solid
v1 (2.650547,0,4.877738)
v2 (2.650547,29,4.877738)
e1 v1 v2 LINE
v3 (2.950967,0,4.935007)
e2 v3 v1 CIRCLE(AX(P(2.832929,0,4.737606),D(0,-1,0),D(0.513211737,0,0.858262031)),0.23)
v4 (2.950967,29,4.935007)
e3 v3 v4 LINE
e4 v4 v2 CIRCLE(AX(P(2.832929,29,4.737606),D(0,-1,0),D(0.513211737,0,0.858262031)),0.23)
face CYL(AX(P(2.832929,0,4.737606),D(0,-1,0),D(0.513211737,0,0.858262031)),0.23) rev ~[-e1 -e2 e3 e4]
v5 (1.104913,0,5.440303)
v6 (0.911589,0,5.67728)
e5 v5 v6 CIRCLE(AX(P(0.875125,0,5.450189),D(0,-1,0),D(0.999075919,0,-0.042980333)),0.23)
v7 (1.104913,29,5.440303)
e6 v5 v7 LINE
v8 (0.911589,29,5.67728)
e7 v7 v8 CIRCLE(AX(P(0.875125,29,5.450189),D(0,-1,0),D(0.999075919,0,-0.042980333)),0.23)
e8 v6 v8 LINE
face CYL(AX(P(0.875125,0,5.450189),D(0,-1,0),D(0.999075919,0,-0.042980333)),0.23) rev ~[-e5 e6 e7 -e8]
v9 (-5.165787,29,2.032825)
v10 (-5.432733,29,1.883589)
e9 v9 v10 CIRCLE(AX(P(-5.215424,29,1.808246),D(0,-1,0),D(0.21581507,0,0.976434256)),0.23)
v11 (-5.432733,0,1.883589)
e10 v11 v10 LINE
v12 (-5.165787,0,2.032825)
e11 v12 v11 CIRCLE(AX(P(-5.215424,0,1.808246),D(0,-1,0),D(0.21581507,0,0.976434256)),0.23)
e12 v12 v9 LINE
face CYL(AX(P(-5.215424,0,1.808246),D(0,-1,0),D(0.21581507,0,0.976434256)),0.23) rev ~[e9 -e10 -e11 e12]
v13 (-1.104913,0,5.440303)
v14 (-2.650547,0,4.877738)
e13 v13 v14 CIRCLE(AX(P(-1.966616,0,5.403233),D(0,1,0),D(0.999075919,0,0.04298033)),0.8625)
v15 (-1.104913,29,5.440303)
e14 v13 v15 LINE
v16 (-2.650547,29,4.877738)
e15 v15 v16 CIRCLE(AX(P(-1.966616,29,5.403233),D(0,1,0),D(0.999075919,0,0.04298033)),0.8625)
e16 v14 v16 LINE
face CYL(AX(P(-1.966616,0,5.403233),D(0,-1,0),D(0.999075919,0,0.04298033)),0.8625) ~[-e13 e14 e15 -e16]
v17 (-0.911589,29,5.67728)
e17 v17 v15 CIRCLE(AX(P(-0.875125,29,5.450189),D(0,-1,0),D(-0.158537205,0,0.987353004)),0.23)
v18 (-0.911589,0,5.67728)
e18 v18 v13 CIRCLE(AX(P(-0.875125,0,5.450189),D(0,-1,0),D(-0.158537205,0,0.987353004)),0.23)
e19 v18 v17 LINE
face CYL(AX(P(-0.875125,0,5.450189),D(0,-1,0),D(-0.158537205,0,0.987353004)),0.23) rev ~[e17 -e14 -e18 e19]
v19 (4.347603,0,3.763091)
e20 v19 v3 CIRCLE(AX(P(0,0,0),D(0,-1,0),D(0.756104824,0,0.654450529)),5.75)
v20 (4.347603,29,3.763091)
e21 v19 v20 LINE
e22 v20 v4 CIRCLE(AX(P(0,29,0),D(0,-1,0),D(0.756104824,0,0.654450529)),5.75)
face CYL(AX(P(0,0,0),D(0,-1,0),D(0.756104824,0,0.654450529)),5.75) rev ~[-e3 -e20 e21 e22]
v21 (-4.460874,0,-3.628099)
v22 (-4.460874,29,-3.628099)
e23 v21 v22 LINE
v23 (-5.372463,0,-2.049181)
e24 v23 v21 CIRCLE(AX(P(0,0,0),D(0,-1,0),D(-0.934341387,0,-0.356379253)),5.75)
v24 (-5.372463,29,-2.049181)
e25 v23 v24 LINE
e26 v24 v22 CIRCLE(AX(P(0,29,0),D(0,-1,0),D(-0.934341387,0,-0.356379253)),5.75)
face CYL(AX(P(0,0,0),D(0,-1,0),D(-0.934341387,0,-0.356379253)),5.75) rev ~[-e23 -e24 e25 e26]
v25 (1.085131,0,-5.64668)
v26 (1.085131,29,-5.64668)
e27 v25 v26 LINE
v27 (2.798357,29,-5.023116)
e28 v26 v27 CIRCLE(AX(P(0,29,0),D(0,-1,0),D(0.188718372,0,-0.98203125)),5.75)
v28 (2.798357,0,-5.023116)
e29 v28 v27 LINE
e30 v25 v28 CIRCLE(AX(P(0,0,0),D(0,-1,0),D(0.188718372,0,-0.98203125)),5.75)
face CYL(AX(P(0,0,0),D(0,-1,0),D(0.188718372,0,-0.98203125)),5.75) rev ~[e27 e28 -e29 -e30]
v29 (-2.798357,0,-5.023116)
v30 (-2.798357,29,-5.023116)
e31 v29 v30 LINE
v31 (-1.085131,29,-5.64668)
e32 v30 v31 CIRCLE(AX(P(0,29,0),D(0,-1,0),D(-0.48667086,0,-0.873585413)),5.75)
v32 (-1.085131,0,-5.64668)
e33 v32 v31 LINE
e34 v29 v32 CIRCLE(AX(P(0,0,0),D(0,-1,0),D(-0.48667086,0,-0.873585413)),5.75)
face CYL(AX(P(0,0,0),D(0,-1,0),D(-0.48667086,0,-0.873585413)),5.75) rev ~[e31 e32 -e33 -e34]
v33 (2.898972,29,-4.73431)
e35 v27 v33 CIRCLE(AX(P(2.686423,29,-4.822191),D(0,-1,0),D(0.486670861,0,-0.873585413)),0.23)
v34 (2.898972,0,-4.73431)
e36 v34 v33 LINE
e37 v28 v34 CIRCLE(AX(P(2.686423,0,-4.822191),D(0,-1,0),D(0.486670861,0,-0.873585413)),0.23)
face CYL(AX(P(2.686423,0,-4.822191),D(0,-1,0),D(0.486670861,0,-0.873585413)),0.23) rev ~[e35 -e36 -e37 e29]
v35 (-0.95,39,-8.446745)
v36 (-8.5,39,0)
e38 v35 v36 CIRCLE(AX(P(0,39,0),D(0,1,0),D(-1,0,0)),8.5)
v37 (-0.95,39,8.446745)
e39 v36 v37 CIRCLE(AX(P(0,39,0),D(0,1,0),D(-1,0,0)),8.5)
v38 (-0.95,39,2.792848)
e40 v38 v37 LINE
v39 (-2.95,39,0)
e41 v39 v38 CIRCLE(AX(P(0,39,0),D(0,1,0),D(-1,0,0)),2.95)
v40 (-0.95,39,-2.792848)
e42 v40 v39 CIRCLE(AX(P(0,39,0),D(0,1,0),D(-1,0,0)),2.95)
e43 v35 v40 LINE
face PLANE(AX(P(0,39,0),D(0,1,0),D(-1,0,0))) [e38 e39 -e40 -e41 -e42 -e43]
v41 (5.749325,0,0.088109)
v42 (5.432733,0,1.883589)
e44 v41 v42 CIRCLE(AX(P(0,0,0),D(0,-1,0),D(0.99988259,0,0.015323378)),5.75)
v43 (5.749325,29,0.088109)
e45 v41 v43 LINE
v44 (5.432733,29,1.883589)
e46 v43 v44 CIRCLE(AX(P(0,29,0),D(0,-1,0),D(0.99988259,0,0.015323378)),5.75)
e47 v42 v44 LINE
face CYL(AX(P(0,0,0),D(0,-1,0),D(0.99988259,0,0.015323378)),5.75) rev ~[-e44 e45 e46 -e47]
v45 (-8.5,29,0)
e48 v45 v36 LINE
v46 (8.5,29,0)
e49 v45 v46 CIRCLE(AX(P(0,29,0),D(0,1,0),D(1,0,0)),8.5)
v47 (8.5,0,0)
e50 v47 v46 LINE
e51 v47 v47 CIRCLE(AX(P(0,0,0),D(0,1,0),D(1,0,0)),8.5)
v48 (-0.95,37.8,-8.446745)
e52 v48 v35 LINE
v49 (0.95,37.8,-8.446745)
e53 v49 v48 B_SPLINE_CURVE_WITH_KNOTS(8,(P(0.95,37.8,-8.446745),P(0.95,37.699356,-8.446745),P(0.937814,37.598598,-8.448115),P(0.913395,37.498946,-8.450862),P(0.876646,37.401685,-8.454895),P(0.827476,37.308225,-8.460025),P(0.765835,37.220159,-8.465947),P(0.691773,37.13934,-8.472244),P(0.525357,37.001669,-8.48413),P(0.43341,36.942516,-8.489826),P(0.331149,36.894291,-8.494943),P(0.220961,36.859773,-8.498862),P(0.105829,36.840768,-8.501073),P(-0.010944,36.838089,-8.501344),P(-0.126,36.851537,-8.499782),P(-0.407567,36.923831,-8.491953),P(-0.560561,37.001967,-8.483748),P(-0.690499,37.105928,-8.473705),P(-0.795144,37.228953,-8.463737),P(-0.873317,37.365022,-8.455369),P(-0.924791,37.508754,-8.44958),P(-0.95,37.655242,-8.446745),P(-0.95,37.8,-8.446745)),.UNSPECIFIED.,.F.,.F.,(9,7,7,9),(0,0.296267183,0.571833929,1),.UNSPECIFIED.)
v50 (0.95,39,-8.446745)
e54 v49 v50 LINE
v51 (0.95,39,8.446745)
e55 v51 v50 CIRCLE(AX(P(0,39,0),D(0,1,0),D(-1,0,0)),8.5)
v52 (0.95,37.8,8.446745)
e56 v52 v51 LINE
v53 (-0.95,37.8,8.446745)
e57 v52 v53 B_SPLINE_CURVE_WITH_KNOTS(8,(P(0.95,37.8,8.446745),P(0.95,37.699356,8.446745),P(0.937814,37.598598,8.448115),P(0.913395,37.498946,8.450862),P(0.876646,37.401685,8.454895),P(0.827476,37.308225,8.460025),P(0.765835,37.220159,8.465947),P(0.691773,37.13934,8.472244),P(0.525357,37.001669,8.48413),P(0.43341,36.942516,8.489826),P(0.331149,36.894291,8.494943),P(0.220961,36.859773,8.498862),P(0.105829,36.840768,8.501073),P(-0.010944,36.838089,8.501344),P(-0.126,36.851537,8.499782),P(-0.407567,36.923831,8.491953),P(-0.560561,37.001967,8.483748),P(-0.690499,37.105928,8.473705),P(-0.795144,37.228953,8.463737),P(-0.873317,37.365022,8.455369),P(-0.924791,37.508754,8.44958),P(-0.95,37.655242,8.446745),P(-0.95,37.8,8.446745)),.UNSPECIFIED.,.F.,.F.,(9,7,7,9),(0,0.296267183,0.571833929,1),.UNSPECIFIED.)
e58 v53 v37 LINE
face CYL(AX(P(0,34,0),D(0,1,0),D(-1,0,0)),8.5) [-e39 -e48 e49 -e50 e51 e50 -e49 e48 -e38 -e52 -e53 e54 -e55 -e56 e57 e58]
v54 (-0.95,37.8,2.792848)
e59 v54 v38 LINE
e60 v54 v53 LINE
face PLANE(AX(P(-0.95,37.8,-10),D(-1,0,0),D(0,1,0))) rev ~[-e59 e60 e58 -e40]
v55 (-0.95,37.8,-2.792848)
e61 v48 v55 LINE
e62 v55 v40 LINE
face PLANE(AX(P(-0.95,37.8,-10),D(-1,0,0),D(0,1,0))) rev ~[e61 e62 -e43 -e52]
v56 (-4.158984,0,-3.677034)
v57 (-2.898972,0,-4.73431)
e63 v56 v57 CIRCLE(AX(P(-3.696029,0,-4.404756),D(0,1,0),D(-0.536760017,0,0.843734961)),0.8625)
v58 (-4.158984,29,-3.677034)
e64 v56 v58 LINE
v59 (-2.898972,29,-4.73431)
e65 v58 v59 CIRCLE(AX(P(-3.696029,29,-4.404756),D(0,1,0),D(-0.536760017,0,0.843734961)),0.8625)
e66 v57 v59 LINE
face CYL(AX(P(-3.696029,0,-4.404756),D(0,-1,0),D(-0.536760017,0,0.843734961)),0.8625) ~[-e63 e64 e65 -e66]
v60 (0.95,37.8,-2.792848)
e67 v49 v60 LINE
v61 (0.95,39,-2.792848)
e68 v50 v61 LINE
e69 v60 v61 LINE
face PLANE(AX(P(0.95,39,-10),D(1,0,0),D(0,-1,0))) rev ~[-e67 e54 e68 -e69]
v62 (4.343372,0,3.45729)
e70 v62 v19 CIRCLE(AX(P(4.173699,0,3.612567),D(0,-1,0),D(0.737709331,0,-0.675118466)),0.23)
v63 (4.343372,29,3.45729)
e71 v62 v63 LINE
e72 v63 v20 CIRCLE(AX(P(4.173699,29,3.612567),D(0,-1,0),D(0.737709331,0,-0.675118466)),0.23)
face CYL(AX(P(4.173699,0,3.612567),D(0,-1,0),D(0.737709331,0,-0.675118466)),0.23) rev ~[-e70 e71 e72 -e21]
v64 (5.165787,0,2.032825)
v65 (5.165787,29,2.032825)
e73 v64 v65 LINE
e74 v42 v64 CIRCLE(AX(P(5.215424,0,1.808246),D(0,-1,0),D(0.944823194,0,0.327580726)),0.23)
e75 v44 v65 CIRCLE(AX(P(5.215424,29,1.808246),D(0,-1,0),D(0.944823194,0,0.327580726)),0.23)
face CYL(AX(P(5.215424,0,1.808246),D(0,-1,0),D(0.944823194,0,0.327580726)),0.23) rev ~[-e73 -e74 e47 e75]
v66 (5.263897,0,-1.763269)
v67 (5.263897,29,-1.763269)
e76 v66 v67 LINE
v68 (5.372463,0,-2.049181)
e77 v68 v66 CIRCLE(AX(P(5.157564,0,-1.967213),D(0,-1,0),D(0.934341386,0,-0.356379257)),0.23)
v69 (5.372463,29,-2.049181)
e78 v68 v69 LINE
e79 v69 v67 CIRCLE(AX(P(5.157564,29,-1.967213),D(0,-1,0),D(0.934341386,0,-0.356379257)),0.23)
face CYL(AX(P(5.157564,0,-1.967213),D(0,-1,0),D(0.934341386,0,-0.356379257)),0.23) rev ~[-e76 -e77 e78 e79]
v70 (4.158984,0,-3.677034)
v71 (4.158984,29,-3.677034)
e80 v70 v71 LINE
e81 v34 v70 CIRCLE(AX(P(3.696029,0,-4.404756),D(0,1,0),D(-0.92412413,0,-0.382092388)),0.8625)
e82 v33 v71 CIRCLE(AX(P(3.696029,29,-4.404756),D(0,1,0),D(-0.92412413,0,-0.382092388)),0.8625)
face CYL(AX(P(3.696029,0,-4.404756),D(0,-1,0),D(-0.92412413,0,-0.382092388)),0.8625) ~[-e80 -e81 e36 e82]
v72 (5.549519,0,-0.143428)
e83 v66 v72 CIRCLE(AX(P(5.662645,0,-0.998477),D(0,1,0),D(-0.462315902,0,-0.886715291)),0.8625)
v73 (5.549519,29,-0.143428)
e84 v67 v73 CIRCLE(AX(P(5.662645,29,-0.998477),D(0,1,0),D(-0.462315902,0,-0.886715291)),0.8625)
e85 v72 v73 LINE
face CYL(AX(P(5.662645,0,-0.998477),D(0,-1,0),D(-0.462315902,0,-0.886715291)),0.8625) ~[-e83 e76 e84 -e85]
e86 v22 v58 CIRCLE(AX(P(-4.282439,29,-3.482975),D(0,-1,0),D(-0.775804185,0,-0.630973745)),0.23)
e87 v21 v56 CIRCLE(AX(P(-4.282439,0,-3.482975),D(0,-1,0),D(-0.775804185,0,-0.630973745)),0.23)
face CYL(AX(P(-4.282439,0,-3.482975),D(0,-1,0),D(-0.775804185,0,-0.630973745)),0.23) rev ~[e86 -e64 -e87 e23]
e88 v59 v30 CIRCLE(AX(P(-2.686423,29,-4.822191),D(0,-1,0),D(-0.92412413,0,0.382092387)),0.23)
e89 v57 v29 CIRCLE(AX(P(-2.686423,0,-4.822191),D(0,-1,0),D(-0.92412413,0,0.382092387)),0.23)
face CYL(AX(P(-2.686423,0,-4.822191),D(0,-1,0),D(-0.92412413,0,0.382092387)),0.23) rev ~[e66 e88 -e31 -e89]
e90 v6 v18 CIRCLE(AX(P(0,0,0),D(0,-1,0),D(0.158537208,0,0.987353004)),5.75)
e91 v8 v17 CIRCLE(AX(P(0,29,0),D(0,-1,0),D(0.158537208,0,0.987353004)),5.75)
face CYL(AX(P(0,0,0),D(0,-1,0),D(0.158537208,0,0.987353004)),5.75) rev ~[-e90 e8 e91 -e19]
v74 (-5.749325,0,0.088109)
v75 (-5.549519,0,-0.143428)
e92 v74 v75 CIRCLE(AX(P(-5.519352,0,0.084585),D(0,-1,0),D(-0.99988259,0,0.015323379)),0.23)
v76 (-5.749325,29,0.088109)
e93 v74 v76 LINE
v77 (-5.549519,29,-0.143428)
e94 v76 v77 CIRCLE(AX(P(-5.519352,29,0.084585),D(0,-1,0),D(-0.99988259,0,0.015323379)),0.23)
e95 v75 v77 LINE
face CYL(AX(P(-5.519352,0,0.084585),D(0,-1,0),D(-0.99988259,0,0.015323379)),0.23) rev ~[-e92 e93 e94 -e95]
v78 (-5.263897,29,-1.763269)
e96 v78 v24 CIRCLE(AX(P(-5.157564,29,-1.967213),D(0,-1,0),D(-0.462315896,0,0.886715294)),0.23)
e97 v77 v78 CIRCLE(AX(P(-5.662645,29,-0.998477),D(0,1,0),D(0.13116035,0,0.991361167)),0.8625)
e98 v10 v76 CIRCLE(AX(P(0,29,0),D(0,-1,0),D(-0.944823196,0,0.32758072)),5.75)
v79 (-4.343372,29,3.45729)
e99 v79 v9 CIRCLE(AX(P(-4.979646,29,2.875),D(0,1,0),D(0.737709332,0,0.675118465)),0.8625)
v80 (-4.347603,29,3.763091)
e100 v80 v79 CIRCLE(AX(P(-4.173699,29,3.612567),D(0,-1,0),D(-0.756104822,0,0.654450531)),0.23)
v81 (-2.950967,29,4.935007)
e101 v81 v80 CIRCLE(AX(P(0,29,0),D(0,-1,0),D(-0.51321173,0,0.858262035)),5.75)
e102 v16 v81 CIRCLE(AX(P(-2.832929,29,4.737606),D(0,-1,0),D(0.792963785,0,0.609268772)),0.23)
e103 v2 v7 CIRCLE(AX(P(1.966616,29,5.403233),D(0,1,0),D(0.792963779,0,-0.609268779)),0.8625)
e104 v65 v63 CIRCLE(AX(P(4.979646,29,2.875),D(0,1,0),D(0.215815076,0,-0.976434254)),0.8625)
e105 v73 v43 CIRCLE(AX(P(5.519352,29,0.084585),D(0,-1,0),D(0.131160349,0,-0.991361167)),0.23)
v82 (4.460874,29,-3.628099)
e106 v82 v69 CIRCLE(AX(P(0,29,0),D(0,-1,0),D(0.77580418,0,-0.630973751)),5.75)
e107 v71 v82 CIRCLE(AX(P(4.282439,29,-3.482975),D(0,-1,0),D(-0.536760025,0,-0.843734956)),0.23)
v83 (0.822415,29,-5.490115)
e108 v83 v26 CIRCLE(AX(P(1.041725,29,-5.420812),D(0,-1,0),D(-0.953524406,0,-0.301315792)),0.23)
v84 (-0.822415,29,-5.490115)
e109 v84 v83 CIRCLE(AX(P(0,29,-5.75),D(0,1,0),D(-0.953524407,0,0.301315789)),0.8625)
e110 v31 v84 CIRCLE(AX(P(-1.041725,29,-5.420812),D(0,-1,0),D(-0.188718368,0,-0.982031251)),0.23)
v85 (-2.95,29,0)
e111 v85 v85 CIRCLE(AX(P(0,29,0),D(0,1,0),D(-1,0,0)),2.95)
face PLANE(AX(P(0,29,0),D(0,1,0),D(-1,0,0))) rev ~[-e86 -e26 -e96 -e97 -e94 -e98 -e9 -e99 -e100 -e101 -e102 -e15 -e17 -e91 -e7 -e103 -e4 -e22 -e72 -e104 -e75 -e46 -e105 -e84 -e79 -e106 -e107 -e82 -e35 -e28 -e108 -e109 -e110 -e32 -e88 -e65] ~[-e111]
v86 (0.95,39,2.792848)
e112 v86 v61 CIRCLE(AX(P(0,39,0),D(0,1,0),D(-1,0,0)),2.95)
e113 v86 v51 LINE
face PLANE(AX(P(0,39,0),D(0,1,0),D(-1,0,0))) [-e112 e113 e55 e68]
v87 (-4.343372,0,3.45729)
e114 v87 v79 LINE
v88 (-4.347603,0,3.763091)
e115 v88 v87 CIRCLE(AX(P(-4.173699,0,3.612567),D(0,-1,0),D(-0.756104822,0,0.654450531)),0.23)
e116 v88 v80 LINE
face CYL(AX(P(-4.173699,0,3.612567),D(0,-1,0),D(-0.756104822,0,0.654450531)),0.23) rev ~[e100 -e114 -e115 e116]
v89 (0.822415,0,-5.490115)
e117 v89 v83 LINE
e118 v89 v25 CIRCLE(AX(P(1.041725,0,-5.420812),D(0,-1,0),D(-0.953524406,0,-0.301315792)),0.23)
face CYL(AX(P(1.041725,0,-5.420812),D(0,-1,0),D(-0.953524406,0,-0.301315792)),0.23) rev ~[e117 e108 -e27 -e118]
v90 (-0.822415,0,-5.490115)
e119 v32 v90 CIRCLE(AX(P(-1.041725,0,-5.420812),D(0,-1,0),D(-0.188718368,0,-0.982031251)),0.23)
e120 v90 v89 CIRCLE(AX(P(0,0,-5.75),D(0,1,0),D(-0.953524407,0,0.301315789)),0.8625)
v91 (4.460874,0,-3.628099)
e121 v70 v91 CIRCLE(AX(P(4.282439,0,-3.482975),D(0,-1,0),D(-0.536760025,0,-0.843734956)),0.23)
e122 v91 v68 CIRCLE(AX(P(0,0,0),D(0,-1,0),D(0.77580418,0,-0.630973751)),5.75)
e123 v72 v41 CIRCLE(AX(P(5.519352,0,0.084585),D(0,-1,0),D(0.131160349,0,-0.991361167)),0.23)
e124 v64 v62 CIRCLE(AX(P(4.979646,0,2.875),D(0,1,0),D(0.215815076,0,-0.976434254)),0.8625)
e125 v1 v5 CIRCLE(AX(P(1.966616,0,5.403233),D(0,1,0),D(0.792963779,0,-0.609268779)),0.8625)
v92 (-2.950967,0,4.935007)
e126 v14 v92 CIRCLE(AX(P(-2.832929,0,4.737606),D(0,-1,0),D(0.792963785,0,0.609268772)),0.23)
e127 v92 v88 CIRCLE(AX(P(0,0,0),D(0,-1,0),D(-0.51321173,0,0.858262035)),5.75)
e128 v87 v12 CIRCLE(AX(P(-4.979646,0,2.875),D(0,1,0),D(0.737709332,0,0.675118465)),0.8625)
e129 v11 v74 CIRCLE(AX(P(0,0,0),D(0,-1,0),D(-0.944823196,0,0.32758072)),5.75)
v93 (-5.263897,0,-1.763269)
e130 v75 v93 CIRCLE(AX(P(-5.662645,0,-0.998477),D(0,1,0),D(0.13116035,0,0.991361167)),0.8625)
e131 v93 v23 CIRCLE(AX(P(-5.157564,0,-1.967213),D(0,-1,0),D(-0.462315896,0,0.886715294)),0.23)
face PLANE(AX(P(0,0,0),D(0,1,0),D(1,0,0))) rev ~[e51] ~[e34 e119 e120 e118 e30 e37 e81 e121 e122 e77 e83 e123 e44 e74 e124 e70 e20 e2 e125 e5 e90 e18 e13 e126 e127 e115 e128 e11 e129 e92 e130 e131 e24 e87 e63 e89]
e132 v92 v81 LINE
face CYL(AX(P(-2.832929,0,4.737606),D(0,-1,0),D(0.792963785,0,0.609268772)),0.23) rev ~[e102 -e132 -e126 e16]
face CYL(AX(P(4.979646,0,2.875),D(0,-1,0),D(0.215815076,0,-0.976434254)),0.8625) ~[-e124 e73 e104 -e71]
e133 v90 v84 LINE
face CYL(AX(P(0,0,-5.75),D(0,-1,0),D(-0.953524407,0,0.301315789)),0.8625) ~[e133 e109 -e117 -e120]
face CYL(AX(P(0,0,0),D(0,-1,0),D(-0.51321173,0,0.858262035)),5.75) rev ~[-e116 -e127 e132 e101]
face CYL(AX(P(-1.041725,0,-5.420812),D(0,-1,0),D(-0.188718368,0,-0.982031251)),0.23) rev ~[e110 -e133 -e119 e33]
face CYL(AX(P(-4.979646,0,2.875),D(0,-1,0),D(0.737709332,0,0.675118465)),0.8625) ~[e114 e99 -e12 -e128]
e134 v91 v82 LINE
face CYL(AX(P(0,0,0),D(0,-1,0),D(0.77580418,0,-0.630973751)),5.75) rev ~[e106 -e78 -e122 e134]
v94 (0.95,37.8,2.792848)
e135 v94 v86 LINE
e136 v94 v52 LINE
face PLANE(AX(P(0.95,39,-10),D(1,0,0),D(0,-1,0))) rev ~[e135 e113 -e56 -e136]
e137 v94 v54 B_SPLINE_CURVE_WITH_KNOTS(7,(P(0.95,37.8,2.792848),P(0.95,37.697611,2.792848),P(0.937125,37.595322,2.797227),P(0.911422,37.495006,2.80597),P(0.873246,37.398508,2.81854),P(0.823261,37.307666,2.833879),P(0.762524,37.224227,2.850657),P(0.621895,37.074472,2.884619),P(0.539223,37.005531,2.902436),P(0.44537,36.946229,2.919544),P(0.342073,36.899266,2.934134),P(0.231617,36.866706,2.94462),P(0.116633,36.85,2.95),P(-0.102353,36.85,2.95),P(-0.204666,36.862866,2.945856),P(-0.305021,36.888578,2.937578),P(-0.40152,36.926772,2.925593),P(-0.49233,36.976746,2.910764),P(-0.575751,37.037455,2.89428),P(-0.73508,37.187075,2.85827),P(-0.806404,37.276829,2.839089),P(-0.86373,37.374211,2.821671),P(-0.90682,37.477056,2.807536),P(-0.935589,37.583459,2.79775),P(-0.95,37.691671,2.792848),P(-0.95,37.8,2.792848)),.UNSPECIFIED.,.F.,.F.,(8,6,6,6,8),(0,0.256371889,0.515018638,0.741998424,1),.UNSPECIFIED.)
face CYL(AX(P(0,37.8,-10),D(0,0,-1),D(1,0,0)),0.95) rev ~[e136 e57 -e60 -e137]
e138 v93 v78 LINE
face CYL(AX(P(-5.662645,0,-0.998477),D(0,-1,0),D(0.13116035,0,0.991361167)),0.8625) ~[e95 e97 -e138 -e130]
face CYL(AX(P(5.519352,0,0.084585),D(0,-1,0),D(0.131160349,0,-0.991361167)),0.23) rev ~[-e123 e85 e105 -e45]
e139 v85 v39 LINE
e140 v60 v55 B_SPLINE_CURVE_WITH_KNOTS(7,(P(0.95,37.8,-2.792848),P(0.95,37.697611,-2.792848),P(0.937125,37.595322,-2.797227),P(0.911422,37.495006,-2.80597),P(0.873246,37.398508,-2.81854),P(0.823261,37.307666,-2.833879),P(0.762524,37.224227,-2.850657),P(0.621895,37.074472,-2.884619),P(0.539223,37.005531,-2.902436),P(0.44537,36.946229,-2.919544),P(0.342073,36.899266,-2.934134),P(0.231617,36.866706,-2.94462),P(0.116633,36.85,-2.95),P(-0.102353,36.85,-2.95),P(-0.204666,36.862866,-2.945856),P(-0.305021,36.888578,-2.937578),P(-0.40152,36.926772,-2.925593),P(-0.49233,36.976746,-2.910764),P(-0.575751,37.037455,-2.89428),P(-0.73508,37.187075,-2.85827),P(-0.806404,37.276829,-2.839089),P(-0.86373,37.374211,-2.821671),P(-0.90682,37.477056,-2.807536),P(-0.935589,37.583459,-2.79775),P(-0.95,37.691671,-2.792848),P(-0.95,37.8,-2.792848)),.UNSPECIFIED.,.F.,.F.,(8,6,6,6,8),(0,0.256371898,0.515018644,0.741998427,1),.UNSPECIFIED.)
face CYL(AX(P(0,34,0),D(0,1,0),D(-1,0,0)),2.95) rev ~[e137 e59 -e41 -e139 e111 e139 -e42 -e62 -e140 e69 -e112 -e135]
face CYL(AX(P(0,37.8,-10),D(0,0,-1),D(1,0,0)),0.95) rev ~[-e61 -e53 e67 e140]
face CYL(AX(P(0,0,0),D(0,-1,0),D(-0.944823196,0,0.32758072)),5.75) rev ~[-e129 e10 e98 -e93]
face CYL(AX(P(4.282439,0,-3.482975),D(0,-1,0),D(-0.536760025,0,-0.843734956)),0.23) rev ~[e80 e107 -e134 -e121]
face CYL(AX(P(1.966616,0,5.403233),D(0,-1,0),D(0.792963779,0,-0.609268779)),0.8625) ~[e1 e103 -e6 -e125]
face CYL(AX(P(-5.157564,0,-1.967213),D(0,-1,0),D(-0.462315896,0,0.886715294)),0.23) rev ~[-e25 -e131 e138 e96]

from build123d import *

# Parameters (mm, degrees)
SKETCH1_R               = 8.5
BOSS_EXTRUDE1_DEPTH     = 29
SKETCH2_W               = 5.55
SKETCH2_H               = 10
CUT_EXTRUDE1_DEPTH      = 10
CUT_EXTRUDE1_DEPTH_BACK = 10


with BuildPart() as part:
    # Sketch1 → Boss-Extrude1 (new body)
    with BuildSketch(Plane(origin=(0, 0, 0), x_dir=(1, 0, 0), z_dir=(0, 1, 0))):
        Circle(SKETCH1_R)
        with BuildLine():
            ThreePointArc((5.263897115, 1.76326896), (4.813247893, 0.848705468), (5.549518778, 0.143428015))
            ThreePointArc((5.549518778, 0.143428015), (5.693479971, 0.065679427), (5.749324893, -0.08810943))
            ThreePointArc((5.749324893, -0.08810943), (5.66264458, -0.998477022), (5.432733377, -1.883589143))
            ThreePointArc((5.432733377, -1.883589143), (5.327657428, -2.009003309), (5.165786574, -2.032825456))
            ThreePointArc((5.165786574, -2.032825456), (4.232699161, -2.44375), (4.343371773, -3.457289676))
            ThreePointArc((4.343371773, -3.457289676), (4.403676616, -3.609385021), (4.347602736, -3.763090545))
            ThreePointArc((4.347602736, -3.763090545), (3.696028756, -4.404755548), (2.950967451, -4.935006697))
            ThreePointArc((2.950967451, -4.935006697), (2.789859933, -4.963538005), (2.650547084, -4.877738248))
            ThreePointArc((2.650547084, -4.877738248), (1.671623451, -4.592747684), (1.104912844, -5.440303105))
            ThreePointArc((1.104912844, -5.440303105), (1.053344031, -5.595578104), (0.911588941, -5.677279771))
            ThreePointArc((0.911588941, -5.677279771), (0, -5.75), (-0.911588941, -5.677279771))
            ThreePointArc((-0.911588941, -5.677279771), (-1.053344031, -5.595578104), (-1.104912844, -5.440303105))
            ThreePointArc((-1.104912844, -5.440303105), (-1.671623451, -4.592747684), (-2.650547084, -4.877738248))
            ThreePointArc((-2.650547084, -4.877738248), (-2.789859933, -4.963538005), (-2.950967451, -4.935006697))
            ThreePointArc((-2.950967451, -4.935006697), (-3.696028756, -4.404755548), (-4.347602736, -3.763090545))
            ThreePointArc((-4.347602736, -3.763090545), (-4.403676616, -3.609385021), (-4.343371773, -3.457289676))
            ThreePointArc((-4.343371773, -3.457289676), (-4.232699161, -2.44375), (-5.165786574, -2.032825456))
            ThreePointArc((-5.165786574, -2.032825456), (-5.327657428, -2.009003309), (-5.432733377, -1.883589143))
            ThreePointArc((-5.432733377, -1.883589143), (-5.66264458, -0.998477022), (-5.749324893, -0.08810943))
            ThreePointArc((-5.749324893, -0.08810943), (-5.693479971, 0.065679427), (-5.549518778, 0.143428015))
            ThreePointArc((-5.549518778, 0.143428015), (-4.813247893, 0.848705468), (-5.263897115, 1.76326896))
            ThreePointArc((-5.263897115, 1.76326896), (-5.372584803, 1.885566362), (-5.372462977, 2.049180705))
            ThreePointArc((-5.372462977, 2.049180705), (-4.979646072, 2.875), (-4.460874036, 3.628099066))
            ThreePointArc((-4.460874036, 3.628099066), (-4.319240772, 3.710011742), (-4.158984271, 3.677034144))
            ThreePointArc((-4.158984271, 3.677034144), (-3.141624442, 3.744042216), (-2.898971694, 4.734310233))
            ThreePointArc((-2.898971694, 4.734310233), (-2.903620038, 4.897858577), (-2.798357442, 5.023116127))
            ThreePointArc((-2.798357442, 5.023116127), (-1.966615824, 5.40323257), (-1.08513064, 5.646679688))
            ThreePointArc((-1.08513064, 5.646679688), (-0.923980812, 5.61838833), (-0.822414801, 5.490115132))
            ThreePointArc((-0.822414801, 5.490115132), (0, 4.8875), (0.822414801, 5.490115132))
            ThreePointArc((0.822414801, 5.490115132), (0.923980812, 5.61838833), (1.08513064, 5.646679688))
            ThreePointArc((1.08513064, 5.646679688), (1.966615824, 5.40323257), (2.798357442, 5.023116127))
            ThreePointArc((2.798357442, 5.023116127), (2.903620038, 4.897858577), (2.898971694, 4.734310233))
            ThreePointArc((2.898971694, 4.734310233), (3.141624442, 3.744042216), (4.158984271, 3.677034144))
            ThreePointArc((4.158984271, 3.677034144), (4.319240772, 3.710011742), (4.460874036, 3.628099066))
            ThreePointArc((4.460874036, 3.628099066), (4.979646072, 2.875), (5.372462977, 2.049180705))
            ThreePointArc((5.372462977, 2.049180705), (5.372584803, 1.885566362), (5.263897115, 1.76326896))
        make_face(mode=Mode.SUBTRACT)
    extrude(amount=BOSS_EXTRUDE1_DEPTH)

    # Sketch2 → Revolve2 (revolve)
    with BuildSketch(Plane.XY):
        with Locations((-5.725, 34)):
            Rectangle(SKETCH2_W, SKETCH2_H)
    revolve(axis=Axis((0, 0, 0), (0, 1, 0)))

    # Sketch4 → Cut-Extrude1 (cut, two sides: drawn at the far end of the back side and taken through both)
    with BuildSketch(Plane.XY.offset(-CUT_EXTRUDE1_DEPTH_BACK)):
        with BuildLine():
            Line((-0.95, 37.8), (-0.95, 39))
            Line((-0.95, 39), (0.95, 39))
            Line((0.95, 39), (0.95, 37.8))
            ThreePointArc((0.95, 37.8), (0, 36.85), (-0.95, 37.8))
        make_face()
    extrude(amount=CUT_EXTRUDE1_DEPTH + CUT_EXTRUDE1_DEPTH_BACK, mode=Mode.SUBTRACT)


solid = part.part
